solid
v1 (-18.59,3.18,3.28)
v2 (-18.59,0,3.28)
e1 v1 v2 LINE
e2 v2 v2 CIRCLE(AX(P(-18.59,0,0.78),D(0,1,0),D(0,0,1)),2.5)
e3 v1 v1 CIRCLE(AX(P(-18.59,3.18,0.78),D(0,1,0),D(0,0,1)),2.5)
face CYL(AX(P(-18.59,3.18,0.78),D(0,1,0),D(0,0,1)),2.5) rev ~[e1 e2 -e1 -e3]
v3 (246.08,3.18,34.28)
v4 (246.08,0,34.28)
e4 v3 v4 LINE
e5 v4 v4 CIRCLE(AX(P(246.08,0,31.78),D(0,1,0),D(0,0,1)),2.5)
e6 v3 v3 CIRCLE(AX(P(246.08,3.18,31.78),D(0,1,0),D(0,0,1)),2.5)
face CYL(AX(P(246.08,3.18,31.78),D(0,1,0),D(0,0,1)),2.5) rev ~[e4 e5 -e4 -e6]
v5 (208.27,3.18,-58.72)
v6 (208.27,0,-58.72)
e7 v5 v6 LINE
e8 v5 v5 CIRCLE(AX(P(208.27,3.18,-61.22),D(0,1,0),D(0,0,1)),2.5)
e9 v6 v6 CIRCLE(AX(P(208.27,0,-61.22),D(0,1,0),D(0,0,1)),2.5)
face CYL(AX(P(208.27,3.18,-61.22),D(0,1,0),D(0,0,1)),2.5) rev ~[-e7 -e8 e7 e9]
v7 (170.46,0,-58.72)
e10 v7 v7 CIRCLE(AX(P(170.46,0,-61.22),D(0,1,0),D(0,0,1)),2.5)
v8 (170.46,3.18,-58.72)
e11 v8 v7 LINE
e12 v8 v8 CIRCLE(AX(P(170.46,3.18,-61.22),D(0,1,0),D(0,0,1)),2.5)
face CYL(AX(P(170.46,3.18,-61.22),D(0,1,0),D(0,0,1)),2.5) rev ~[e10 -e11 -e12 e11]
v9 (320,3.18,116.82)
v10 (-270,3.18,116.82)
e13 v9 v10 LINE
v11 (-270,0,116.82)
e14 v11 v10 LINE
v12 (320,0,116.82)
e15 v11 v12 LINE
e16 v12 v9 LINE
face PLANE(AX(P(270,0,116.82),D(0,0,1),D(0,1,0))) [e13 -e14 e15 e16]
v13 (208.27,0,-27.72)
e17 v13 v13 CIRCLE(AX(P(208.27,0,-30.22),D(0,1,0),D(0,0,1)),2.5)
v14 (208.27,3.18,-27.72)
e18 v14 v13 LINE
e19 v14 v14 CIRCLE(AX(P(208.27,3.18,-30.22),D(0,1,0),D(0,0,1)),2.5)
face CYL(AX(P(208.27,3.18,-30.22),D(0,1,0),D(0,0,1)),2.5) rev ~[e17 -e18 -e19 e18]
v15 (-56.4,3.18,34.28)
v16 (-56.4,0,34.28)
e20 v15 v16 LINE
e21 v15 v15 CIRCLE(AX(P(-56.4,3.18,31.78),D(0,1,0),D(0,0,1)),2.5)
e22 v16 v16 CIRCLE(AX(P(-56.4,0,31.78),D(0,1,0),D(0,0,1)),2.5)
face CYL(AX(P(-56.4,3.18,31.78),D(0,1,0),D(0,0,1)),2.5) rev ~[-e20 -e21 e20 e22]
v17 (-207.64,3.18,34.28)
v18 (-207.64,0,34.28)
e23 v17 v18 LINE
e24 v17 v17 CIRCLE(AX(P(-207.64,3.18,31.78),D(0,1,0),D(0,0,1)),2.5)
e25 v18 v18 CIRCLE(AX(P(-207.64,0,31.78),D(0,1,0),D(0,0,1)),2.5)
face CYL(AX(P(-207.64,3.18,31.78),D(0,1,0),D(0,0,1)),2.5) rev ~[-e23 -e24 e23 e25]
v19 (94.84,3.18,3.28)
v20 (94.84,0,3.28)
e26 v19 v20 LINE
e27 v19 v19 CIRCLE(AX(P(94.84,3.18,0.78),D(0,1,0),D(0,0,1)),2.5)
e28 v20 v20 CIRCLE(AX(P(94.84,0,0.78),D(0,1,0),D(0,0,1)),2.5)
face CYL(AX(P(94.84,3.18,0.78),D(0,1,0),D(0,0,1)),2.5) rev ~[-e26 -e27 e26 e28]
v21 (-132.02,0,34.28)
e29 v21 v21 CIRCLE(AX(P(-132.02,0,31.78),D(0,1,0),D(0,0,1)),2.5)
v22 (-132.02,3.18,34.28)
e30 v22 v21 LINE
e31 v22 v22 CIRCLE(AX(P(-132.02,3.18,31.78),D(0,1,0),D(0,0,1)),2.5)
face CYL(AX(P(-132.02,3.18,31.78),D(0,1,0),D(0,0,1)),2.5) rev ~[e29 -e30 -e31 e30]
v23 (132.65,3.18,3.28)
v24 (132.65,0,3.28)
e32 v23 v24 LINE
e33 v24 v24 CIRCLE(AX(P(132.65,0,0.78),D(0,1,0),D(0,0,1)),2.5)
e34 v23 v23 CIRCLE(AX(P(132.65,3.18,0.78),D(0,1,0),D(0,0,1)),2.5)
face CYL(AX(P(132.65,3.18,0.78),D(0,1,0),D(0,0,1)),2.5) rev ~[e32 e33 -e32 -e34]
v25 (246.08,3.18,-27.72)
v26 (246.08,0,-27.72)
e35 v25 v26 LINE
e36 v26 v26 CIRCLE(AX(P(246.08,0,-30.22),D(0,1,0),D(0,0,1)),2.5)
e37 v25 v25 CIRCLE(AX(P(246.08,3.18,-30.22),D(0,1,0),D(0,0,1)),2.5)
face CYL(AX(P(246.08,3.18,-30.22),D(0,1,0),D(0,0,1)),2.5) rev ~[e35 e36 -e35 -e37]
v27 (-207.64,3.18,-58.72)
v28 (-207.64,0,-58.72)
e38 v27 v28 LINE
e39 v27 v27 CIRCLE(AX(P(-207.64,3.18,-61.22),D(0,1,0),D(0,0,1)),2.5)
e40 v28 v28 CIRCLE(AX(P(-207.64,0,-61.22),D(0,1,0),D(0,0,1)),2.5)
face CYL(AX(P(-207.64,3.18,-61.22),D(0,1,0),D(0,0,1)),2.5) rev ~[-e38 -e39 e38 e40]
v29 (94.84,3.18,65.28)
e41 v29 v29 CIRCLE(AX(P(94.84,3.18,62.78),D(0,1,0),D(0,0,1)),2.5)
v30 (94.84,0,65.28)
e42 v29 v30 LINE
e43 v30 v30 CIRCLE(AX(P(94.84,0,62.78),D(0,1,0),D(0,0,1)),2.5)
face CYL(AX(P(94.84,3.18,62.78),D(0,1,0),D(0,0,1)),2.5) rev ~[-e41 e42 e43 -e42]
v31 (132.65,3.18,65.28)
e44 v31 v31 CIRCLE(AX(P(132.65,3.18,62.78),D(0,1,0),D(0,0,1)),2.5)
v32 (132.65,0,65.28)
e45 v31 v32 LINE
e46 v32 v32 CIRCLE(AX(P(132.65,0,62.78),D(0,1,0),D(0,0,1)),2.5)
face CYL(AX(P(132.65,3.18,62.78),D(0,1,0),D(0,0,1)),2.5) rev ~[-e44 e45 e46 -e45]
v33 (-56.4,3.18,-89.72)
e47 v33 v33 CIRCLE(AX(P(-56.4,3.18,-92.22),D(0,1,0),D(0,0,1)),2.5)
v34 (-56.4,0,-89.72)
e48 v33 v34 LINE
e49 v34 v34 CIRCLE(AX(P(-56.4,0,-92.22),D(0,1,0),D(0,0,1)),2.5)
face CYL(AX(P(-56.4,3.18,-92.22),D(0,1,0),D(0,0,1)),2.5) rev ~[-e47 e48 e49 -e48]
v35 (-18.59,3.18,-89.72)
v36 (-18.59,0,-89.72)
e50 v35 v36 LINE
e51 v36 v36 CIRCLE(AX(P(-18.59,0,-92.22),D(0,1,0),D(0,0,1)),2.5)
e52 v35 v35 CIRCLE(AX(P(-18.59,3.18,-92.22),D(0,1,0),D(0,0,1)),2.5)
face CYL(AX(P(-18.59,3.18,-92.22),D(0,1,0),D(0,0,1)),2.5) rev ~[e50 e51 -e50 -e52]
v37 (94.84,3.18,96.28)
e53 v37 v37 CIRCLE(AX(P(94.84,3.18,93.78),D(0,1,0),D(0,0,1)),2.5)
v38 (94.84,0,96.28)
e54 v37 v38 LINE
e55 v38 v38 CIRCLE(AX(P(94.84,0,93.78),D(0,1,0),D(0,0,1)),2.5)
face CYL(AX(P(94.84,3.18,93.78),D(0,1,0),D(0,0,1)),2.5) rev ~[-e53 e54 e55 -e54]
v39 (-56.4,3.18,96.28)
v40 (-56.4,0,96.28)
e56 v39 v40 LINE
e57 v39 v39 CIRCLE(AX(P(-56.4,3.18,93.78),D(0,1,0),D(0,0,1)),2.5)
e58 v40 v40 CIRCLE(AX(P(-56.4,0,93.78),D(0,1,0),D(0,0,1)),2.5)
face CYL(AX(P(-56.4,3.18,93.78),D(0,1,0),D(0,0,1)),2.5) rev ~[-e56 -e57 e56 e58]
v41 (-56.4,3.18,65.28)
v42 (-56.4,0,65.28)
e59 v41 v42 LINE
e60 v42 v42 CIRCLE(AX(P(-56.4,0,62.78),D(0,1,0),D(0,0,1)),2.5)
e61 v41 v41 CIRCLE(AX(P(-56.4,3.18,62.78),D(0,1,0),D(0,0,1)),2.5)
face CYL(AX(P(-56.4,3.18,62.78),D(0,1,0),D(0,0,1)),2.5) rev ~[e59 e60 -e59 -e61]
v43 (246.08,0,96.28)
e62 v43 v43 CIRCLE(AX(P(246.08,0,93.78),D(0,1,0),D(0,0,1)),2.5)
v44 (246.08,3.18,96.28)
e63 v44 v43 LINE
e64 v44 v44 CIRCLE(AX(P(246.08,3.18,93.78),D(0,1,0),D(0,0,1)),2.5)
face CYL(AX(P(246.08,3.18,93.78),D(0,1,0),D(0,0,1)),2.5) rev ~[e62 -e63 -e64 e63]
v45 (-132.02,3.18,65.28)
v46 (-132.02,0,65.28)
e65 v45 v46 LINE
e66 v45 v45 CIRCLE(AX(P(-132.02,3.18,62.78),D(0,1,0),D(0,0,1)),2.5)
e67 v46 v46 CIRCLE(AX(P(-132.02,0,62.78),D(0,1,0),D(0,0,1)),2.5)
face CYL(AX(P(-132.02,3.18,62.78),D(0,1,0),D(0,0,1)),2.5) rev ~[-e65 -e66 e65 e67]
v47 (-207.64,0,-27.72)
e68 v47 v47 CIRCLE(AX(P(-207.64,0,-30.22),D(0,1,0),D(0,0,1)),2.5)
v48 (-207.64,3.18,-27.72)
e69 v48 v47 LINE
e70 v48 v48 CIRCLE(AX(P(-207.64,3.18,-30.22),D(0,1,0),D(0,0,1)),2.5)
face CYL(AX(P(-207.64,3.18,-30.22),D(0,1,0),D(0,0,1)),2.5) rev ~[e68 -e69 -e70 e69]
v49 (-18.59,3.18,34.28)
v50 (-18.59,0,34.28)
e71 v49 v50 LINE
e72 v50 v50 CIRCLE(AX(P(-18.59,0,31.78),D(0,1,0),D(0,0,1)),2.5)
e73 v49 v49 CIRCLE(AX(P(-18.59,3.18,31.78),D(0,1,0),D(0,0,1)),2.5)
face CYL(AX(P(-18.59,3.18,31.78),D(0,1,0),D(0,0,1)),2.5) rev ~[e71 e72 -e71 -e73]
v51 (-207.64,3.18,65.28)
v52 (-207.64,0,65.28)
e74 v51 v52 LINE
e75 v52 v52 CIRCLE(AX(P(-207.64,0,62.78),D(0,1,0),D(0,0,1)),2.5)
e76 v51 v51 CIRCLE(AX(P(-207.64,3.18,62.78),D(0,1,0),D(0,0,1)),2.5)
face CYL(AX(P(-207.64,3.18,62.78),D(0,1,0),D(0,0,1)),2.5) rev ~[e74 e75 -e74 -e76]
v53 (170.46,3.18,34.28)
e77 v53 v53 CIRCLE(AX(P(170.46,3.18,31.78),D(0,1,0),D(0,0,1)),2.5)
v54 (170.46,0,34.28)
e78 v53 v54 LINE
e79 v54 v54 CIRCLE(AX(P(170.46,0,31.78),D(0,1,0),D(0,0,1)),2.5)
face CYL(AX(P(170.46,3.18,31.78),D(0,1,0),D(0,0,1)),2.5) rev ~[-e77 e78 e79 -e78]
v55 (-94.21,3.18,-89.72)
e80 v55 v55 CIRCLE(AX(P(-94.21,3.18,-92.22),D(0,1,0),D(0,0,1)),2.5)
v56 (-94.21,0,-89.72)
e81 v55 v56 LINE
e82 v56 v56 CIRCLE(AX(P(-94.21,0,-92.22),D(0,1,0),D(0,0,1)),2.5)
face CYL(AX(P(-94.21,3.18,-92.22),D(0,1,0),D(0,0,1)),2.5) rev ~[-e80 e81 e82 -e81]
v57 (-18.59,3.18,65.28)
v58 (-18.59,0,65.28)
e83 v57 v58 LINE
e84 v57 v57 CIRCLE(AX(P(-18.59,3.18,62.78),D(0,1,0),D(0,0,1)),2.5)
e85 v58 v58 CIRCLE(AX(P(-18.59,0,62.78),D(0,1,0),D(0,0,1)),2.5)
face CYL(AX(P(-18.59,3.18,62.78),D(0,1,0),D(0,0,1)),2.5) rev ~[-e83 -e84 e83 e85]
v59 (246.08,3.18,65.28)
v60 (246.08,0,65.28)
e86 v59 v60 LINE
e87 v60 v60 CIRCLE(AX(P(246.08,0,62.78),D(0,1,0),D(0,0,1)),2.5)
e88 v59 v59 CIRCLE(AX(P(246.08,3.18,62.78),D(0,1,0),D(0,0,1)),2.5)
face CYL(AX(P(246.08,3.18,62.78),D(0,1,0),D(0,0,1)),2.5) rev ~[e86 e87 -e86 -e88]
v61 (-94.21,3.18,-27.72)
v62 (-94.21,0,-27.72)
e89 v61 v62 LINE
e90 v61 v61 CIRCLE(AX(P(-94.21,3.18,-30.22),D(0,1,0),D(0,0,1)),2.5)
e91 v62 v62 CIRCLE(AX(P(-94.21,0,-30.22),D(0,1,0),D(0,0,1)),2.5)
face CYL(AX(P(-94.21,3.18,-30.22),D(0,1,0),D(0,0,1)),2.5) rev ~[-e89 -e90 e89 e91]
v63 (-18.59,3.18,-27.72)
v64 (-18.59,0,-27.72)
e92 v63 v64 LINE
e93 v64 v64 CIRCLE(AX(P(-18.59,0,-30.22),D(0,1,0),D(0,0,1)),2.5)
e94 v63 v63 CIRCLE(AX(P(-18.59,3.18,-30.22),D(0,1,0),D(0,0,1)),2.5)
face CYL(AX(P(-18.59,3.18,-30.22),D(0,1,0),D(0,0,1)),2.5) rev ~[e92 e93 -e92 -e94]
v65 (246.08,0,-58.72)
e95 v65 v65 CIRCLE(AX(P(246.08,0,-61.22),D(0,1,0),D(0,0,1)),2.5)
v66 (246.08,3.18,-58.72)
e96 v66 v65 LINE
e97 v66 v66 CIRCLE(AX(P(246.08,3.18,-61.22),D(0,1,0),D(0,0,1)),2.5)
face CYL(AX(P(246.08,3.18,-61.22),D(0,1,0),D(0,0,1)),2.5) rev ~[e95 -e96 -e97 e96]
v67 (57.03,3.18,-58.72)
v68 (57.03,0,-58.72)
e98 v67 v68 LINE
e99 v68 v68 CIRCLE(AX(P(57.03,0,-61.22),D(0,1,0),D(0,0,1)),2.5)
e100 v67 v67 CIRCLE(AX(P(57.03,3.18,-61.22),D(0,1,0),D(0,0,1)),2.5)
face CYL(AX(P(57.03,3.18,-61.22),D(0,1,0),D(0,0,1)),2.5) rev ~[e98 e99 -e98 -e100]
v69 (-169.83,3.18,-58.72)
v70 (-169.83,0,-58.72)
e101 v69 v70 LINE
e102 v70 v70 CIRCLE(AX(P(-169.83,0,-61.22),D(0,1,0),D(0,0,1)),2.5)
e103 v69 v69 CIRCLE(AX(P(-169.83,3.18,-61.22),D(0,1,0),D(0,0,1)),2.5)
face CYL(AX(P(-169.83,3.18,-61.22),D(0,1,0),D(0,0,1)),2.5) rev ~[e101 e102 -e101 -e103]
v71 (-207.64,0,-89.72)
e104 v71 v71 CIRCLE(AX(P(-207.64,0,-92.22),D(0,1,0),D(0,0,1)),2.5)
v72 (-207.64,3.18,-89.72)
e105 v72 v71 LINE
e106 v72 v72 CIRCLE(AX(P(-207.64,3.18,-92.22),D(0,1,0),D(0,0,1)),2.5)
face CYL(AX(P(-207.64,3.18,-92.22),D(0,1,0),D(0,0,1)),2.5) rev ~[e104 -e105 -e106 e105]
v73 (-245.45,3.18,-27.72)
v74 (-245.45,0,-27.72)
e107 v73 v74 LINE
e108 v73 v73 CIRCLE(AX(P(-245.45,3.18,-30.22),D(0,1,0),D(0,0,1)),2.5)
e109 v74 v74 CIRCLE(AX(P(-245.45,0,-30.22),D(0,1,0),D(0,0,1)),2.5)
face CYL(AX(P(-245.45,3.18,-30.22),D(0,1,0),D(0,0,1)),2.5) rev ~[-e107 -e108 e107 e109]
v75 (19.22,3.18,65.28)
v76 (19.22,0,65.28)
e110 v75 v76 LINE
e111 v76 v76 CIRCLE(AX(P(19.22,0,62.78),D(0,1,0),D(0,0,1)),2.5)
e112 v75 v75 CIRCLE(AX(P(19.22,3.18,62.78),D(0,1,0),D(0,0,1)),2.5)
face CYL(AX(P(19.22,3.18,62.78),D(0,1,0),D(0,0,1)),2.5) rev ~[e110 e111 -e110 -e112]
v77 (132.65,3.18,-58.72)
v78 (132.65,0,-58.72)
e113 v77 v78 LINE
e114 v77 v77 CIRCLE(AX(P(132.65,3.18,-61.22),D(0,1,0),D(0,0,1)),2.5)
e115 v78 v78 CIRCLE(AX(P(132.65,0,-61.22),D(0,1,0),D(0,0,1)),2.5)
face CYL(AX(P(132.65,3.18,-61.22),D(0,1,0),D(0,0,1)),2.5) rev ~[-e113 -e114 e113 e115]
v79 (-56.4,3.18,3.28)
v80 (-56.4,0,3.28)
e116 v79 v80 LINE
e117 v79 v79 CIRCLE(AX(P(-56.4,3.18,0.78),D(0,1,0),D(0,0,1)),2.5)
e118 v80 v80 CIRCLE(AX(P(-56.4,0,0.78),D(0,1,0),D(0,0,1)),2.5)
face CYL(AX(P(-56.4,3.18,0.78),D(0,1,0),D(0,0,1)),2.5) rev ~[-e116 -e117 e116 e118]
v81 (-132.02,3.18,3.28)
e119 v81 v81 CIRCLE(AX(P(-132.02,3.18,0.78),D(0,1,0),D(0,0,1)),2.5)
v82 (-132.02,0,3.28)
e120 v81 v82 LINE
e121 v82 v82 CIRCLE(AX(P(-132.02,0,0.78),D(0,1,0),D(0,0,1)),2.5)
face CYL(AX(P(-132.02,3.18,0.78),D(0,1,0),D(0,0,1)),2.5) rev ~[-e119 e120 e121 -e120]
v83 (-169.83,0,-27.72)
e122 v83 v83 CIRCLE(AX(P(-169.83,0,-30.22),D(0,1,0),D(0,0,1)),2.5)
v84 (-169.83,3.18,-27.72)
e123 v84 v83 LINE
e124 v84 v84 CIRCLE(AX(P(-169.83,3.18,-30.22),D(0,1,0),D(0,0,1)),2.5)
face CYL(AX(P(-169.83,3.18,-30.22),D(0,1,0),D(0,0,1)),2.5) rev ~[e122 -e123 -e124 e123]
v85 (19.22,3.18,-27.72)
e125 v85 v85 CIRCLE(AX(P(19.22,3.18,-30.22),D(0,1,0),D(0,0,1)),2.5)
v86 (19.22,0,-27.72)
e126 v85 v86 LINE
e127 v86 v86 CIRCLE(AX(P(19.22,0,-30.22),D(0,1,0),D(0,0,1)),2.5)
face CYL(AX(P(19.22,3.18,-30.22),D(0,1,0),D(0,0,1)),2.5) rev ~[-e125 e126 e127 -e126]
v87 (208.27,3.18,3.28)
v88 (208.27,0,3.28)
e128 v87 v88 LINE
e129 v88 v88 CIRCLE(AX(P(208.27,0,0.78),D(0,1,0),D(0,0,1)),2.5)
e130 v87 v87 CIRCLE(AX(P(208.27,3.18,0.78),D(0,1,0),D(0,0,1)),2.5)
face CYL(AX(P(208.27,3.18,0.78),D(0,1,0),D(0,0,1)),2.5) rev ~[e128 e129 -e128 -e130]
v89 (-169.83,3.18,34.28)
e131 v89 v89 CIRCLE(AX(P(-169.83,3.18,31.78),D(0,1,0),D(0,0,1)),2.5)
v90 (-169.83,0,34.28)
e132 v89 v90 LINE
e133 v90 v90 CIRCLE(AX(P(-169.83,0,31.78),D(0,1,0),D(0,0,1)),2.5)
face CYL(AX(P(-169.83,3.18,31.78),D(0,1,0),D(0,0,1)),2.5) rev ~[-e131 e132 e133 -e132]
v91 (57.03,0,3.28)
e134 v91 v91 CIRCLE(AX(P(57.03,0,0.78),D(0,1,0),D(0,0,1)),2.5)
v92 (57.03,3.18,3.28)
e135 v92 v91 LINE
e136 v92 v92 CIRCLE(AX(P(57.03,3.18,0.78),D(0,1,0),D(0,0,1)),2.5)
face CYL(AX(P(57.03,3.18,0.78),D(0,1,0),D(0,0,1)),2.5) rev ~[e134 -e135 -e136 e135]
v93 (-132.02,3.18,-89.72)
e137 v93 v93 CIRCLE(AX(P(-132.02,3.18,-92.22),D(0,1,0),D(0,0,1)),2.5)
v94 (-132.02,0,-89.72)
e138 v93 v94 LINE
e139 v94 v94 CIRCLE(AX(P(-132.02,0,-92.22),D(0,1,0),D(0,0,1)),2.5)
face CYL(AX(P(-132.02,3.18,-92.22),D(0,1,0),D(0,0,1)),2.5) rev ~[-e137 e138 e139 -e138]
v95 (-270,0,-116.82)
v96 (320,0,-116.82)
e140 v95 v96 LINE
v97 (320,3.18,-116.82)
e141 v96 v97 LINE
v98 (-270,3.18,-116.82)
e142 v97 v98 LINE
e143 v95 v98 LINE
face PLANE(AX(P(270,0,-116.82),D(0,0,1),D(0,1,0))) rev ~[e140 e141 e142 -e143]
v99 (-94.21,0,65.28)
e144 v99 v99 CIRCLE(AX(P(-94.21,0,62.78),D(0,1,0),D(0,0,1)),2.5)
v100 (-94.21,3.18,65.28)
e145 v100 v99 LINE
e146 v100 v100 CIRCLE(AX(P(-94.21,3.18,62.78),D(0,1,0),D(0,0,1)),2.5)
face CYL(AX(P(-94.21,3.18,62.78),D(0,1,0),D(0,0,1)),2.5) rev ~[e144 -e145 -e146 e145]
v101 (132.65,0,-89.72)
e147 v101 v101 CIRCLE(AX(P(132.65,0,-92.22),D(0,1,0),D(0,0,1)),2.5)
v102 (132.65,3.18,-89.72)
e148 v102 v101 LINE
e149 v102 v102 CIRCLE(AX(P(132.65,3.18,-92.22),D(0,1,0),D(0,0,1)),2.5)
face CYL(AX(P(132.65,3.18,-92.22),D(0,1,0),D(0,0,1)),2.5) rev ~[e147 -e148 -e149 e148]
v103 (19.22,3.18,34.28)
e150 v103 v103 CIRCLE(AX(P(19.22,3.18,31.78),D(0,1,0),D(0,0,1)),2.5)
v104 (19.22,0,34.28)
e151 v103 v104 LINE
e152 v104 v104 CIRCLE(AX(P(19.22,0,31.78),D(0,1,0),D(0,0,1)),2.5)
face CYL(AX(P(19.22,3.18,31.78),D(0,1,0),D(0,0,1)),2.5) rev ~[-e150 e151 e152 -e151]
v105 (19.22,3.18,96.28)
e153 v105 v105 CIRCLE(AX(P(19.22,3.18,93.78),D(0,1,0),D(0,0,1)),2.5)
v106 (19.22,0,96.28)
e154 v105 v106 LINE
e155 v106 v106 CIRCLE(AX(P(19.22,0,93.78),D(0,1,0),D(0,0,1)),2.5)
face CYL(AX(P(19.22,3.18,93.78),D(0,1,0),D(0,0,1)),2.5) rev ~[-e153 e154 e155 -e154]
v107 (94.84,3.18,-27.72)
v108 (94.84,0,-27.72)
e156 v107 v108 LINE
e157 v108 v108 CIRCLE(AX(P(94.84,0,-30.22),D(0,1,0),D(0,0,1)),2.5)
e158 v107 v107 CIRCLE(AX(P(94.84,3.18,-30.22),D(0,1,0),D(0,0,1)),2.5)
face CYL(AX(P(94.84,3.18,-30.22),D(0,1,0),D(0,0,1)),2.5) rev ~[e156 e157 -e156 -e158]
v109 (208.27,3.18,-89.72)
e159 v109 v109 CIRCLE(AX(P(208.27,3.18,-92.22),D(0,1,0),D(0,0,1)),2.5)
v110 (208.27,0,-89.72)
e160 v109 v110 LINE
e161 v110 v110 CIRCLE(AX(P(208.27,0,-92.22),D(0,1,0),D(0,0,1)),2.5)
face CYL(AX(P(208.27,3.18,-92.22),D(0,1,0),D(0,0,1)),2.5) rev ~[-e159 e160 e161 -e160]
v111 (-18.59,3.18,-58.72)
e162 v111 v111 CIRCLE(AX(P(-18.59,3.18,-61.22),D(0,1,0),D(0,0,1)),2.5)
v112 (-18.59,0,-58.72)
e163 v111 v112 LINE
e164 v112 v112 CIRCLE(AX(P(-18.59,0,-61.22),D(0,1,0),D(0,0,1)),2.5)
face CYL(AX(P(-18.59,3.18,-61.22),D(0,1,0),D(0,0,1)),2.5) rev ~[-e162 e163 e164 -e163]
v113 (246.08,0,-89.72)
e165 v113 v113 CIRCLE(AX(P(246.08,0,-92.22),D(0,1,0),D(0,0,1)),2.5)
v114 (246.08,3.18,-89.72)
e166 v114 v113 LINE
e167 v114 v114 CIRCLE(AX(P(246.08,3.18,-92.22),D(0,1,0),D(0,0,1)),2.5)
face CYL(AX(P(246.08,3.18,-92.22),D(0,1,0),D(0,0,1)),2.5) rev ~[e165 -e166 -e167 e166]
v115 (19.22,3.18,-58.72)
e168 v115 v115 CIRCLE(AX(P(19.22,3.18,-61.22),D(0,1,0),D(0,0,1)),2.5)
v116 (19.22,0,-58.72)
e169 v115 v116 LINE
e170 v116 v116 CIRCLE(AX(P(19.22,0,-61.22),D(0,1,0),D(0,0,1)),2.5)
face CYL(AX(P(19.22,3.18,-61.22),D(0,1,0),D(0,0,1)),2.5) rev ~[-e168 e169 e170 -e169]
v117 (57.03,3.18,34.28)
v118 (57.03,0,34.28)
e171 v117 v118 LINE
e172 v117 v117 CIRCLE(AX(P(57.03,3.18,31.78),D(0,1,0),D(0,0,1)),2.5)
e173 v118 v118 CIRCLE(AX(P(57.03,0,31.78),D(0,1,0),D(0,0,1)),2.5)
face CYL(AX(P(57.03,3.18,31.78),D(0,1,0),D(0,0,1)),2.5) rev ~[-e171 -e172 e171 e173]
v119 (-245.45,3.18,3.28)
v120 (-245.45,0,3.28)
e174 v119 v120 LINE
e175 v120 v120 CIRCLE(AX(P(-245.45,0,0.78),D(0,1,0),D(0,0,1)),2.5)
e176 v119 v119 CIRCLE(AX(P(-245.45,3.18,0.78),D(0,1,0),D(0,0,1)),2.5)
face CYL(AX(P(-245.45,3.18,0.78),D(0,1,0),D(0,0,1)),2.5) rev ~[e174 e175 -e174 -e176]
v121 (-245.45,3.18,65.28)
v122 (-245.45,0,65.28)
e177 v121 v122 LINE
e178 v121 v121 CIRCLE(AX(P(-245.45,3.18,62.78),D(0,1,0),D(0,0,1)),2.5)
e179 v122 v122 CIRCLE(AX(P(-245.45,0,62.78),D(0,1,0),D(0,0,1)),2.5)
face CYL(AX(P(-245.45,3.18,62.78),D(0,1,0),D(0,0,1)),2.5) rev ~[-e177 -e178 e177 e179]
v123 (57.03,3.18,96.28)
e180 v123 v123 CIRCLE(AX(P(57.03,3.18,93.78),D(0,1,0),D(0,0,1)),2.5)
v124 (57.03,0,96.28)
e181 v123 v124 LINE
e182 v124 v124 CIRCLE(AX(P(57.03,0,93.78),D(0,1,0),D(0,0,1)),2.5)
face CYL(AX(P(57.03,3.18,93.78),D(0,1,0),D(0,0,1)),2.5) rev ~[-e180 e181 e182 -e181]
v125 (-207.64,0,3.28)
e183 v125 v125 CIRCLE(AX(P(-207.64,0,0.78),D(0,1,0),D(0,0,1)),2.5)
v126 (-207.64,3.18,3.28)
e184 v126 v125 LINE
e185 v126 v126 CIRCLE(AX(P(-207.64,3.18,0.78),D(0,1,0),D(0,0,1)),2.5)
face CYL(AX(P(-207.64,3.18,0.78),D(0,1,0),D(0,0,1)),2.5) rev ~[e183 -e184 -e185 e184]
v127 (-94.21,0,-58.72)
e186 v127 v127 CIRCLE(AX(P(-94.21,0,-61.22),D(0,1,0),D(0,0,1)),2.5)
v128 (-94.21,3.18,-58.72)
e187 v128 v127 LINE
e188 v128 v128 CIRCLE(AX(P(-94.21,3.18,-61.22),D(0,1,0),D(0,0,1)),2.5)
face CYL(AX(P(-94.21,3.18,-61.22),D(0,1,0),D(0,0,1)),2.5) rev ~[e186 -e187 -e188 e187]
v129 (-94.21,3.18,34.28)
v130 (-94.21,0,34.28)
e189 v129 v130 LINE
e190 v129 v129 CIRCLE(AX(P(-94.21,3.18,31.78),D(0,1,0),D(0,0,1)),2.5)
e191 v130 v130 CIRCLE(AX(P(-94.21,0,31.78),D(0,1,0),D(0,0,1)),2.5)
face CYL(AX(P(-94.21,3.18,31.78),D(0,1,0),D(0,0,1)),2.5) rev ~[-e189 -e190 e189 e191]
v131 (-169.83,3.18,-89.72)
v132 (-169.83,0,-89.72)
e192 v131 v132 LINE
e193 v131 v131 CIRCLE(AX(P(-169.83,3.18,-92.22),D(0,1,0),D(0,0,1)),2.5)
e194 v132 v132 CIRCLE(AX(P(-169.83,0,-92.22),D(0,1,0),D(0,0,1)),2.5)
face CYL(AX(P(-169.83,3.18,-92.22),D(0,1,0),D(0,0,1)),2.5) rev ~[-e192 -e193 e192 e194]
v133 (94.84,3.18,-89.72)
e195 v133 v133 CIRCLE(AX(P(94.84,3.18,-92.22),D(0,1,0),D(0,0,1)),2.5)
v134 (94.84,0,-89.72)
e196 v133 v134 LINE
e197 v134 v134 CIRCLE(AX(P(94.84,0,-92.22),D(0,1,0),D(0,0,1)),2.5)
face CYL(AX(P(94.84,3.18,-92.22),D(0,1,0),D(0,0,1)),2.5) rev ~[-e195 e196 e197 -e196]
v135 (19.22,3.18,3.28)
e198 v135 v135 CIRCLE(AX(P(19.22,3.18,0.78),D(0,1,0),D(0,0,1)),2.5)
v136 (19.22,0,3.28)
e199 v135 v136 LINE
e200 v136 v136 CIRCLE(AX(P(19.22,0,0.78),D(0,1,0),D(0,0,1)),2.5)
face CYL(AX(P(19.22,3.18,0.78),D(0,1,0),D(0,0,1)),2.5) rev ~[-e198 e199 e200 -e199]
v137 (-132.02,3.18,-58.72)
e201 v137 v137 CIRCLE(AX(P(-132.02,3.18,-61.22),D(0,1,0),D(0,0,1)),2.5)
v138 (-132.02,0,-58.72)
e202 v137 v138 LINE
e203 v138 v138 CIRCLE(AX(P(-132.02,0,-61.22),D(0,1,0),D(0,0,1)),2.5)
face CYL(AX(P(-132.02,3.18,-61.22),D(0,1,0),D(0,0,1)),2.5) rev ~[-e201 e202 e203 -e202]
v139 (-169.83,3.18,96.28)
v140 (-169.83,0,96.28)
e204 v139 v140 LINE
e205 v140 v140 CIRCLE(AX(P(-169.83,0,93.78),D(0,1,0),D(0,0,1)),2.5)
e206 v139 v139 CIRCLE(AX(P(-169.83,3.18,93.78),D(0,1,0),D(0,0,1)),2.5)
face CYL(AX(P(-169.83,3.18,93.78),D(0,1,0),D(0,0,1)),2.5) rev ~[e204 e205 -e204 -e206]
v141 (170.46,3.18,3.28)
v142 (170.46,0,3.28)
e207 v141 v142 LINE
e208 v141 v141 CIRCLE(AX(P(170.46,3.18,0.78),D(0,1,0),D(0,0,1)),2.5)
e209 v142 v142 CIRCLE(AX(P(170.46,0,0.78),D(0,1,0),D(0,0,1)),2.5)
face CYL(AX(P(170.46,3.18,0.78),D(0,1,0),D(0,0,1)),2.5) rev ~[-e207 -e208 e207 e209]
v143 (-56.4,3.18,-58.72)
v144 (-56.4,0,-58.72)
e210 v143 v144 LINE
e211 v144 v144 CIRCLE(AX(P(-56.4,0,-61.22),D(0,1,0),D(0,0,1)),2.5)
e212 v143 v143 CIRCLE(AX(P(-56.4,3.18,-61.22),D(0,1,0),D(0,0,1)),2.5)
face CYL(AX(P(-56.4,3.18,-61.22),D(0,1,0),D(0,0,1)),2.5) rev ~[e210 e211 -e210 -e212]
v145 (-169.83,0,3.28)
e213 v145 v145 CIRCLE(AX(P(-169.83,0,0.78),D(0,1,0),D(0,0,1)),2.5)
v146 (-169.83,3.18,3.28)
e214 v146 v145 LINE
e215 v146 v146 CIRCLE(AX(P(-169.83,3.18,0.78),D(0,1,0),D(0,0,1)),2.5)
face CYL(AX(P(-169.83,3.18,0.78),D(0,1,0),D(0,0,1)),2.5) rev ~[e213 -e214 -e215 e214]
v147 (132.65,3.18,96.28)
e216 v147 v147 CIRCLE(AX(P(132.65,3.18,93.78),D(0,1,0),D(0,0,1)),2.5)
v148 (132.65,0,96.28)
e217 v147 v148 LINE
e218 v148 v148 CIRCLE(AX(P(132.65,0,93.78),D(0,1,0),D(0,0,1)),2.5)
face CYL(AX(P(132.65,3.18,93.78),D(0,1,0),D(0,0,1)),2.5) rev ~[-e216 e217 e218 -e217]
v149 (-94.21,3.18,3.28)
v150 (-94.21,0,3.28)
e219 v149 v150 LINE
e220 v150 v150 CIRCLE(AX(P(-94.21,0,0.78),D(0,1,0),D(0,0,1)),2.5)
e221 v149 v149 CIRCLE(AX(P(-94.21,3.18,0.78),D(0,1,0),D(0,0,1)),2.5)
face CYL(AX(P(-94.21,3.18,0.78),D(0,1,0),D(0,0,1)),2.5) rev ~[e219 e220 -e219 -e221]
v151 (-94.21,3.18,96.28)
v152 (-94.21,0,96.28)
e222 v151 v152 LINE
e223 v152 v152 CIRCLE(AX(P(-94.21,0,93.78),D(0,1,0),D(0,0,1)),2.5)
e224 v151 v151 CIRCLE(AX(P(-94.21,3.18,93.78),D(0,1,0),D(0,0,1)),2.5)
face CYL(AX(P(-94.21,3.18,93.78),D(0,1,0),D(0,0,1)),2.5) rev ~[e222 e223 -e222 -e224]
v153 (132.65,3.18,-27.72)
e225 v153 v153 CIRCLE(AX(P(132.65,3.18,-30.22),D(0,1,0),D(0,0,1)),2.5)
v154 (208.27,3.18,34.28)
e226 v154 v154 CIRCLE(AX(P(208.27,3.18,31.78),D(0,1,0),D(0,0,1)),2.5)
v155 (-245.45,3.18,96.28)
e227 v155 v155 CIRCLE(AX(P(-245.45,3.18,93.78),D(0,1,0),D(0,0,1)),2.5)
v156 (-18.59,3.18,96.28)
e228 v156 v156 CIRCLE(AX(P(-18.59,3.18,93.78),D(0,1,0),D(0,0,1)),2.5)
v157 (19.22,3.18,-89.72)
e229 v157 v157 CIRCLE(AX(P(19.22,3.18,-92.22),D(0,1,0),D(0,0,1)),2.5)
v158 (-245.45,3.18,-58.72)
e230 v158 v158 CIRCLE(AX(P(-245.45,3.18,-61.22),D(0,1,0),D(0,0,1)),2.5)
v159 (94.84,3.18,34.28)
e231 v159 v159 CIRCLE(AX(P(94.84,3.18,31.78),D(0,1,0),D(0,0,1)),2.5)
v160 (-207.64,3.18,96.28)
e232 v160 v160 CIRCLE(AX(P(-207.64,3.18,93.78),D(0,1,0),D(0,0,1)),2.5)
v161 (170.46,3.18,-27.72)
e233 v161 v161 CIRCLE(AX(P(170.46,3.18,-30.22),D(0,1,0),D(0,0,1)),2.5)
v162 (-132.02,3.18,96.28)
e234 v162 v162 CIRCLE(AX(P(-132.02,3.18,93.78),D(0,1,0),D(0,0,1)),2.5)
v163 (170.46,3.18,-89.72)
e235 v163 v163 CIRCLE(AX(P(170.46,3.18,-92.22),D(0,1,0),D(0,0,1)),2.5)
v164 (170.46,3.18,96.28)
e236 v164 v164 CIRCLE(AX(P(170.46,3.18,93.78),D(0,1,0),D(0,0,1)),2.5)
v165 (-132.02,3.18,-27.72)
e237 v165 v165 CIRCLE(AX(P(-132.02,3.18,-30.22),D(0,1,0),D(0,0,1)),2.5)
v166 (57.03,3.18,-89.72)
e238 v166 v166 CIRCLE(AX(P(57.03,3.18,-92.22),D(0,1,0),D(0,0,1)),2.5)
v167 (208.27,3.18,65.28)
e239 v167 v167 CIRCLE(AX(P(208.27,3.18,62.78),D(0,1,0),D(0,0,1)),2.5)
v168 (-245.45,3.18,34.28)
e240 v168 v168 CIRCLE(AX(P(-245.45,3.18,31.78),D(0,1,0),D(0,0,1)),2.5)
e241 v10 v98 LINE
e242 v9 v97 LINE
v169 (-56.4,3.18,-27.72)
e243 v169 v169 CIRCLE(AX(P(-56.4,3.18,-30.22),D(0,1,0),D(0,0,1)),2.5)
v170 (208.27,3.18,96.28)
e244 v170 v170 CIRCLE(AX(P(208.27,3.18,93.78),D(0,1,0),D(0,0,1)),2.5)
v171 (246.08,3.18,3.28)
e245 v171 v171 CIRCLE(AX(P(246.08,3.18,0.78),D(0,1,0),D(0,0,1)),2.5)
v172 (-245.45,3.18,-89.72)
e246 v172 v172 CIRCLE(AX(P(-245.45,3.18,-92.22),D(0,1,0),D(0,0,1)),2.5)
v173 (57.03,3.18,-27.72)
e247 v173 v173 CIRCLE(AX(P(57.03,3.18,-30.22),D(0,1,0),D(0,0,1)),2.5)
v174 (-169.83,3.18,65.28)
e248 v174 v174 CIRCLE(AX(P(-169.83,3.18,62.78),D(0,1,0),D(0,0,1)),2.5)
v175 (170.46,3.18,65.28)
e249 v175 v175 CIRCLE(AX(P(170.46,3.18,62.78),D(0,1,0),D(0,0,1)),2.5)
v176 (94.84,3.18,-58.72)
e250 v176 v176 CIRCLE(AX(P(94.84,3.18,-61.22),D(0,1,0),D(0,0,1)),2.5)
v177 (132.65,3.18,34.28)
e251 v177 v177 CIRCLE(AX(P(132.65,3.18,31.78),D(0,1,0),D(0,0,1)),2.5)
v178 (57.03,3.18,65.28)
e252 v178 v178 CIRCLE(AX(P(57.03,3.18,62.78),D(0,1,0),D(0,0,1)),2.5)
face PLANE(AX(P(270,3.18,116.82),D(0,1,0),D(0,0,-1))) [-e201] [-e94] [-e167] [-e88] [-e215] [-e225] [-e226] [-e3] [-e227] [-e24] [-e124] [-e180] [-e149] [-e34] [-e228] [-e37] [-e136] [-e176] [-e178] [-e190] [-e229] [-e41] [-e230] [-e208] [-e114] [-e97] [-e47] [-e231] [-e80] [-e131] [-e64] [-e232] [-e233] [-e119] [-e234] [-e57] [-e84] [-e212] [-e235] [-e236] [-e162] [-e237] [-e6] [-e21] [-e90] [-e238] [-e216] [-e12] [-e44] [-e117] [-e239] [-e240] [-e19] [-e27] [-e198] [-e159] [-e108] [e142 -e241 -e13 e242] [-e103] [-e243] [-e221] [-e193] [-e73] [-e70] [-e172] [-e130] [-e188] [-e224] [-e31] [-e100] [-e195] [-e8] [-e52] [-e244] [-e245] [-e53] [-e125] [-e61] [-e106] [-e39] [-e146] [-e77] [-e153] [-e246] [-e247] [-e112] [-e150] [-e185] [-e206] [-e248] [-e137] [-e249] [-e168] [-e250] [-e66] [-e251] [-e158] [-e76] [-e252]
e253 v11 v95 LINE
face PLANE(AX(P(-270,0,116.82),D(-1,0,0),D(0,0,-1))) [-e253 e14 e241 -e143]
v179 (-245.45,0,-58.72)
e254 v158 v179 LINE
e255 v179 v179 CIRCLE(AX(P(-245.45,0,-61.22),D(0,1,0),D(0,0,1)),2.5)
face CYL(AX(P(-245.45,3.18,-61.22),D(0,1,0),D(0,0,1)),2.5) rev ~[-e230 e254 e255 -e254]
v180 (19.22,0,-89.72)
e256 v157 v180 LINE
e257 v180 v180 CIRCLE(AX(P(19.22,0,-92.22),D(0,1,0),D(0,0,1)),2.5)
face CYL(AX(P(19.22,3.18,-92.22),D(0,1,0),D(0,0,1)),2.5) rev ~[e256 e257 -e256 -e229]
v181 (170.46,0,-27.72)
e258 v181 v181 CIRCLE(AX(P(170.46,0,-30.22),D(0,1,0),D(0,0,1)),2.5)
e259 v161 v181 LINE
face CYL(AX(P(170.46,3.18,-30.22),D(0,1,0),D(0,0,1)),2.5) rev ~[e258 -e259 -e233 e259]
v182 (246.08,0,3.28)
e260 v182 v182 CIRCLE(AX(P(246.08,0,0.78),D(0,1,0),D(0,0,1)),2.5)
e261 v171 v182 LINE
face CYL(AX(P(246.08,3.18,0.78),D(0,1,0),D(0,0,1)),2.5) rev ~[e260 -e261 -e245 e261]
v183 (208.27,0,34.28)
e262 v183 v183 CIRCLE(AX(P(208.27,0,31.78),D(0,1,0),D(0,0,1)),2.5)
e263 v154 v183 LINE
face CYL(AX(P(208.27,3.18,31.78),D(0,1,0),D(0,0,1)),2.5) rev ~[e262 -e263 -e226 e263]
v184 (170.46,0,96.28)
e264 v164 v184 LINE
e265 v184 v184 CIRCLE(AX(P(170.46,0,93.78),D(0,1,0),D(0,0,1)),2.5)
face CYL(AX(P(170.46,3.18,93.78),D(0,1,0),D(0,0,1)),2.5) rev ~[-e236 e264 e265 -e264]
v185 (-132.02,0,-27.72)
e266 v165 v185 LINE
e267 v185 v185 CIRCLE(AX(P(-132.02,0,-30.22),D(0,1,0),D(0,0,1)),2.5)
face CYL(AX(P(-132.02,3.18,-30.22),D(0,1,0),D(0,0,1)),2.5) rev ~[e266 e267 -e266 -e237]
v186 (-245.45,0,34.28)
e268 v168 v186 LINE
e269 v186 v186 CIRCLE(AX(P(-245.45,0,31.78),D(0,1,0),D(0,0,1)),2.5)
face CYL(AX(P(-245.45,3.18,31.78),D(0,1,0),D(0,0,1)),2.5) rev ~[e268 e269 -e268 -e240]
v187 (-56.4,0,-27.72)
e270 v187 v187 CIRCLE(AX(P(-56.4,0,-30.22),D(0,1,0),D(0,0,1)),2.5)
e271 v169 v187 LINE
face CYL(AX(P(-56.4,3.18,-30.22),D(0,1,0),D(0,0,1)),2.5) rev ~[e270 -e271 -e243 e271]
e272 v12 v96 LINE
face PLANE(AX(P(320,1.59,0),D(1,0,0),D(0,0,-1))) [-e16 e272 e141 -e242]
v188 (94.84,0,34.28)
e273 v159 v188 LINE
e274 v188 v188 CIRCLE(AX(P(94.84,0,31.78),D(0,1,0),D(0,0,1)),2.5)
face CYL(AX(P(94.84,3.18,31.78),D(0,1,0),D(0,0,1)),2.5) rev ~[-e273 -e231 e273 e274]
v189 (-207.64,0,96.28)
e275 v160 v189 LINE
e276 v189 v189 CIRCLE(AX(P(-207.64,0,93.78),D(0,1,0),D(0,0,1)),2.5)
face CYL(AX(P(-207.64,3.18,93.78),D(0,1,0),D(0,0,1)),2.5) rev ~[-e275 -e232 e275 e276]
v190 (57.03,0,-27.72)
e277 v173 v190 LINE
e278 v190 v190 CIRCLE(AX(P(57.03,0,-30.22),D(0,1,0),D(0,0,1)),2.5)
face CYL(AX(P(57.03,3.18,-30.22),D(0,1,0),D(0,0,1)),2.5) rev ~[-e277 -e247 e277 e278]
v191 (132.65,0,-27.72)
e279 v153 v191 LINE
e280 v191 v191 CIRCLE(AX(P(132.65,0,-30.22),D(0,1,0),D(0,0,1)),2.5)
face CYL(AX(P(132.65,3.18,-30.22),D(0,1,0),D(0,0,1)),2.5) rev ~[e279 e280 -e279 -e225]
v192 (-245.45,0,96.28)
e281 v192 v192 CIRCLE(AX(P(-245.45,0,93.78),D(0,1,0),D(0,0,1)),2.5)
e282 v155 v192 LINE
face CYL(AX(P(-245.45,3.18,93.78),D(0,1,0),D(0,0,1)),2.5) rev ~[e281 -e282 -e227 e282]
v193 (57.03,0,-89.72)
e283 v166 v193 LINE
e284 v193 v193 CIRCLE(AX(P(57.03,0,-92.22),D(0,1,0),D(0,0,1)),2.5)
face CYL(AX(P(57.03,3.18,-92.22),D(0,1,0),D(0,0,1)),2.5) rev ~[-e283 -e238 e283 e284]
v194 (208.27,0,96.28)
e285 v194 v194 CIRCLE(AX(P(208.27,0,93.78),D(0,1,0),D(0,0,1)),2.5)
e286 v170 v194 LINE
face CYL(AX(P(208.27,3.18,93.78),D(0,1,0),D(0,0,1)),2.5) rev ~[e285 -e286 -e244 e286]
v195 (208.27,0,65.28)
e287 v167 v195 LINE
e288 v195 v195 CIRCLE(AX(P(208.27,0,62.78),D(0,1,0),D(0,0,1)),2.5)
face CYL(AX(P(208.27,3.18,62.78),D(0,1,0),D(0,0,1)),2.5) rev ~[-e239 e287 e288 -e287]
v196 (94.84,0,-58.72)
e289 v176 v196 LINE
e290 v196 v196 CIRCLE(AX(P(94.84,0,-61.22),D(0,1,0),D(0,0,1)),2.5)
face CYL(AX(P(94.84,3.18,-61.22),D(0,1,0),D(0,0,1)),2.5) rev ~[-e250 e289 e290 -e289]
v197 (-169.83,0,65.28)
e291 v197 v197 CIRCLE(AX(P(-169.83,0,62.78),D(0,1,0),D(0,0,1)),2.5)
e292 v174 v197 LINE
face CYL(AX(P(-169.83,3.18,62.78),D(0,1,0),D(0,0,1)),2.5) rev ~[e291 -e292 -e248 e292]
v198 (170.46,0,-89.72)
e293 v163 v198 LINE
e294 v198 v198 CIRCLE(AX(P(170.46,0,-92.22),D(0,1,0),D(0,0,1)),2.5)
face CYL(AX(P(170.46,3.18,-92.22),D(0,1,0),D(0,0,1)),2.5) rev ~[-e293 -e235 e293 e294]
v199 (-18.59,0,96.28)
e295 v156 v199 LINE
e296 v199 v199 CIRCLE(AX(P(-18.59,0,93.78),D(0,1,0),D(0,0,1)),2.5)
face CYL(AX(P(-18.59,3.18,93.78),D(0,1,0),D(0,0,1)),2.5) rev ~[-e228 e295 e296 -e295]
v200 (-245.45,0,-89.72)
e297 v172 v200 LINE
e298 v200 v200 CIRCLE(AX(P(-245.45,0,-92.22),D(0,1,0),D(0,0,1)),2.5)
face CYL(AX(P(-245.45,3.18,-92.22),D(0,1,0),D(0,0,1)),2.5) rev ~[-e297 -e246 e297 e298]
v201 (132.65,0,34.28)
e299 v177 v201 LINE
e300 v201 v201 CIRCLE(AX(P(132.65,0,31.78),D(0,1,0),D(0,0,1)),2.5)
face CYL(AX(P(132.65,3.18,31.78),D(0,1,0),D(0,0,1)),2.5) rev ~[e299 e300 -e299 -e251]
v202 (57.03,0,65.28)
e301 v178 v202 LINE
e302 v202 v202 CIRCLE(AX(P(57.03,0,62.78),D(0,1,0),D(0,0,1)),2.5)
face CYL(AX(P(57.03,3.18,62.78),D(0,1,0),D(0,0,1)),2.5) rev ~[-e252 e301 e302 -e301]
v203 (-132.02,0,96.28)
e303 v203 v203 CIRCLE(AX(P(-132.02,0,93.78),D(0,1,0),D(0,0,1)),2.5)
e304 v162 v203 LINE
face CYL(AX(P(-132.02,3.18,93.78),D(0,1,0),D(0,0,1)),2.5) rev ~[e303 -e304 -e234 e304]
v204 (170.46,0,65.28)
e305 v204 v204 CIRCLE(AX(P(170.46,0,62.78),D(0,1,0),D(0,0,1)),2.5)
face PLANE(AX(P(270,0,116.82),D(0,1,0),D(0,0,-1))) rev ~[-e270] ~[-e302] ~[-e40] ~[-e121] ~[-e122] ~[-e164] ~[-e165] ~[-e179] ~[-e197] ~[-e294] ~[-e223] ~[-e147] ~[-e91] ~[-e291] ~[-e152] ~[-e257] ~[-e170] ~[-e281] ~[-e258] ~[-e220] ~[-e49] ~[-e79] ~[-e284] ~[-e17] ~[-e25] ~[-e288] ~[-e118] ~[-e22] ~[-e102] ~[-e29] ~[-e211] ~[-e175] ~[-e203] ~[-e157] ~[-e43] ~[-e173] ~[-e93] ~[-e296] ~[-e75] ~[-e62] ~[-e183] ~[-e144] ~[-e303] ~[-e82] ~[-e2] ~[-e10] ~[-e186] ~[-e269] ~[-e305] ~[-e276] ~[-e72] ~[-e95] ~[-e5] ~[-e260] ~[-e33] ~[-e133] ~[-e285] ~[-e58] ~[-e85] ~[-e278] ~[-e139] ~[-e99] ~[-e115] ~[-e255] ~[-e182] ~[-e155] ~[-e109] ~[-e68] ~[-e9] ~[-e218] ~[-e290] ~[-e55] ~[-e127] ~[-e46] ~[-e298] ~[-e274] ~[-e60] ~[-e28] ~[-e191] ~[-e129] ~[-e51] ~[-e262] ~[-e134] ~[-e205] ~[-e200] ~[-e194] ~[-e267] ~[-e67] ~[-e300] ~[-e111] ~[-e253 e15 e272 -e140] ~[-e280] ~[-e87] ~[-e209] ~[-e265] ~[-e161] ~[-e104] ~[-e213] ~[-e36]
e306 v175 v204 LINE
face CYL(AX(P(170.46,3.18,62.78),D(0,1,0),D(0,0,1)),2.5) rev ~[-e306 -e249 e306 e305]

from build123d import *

# Parameters (mm, degrees)
SKETCH1_W            = 540
SKETCH1_H            = 233.64
BOSS_EXTRUDE1_DEPTH  = 3.18
CUT_EXTRUDE1_REACH   = 296.206
SKETCH2_R            = 2.5
LPATTERN1_COUNT      = 14
LPATTERN1_PITCH      = 37.81
LPATTERN1_COUNT_DIR2 = 7
LPATTERN1_PITCH_DIR2 = 31
SKETCH3_W            = 233.64
SKETCH3_H            = 3.18
BOSS_EXTRUDE2_DEPTH  = 50


with BuildPart() as part:
    # Sketch1 → Boss-Extrude1 (new body)
    with BuildSketch(Plane(origin=(0, 0, 0), x_dir=(1, 0, 0), z_dir=(0, 1, 0))):
        Rectangle(SKETCH1_W, SKETCH1_H)
    extrude(amount=BOSS_EXTRUDE1_DEPTH)

    # Sketch2 → Cut-Extrude1 (cut, up to next)
    with BuildSketch(Plane(origin=(0, 3.18, 0), x_dir=(1, 0, 0), z_dir=(0, 1, 0)), mode=Mode.PRIVATE) as cut_extrude1_sk1:
        with Locations(Location((-245.45, 92.22, 0), (0, 0, 270))):
            Circle(SKETCH2_R)
    cut_extrude1_tool1 = extrude(cut_extrude1_sk1.sketch, amount=-CUT_EXTRUDE1_REACH, mode=Mode.PRIVATE) & part.part
    cut_extrude1 = cut_extrude1_tool1.solids().sort_by_distance((-245.45, 3.18, -92.22))[0]
    add(cut_extrude1, mode=Mode.SUBTRACT)

    # LPattern1: Cut-Extrude1 14 × 7
    with Locations(*[(i * LPATTERN1_PITCH, 0, j * LPATTERN1_PITCH_DIR2) for i in range(LPATTERN1_COUNT) for j in range(LPATTERN1_COUNT_DIR2) if (i, j) != (0, 0)]):
        add(cut_extrude1, mode=Mode.SUBTRACT)

    # Sketch3 → Boss-Extrude2 (add)
    with BuildSketch(Plane(origin=(270, 0, 0), x_dir=(0, 0, -1), z_dir=(1, 0, 0))):
        with Locations((0, 1.59)):
            Rectangle(SKETCH3_W, SKETCH3_H)
    extrude(amount=BOSS_EXTRUDE2_DEPTH)


solid = part.part
